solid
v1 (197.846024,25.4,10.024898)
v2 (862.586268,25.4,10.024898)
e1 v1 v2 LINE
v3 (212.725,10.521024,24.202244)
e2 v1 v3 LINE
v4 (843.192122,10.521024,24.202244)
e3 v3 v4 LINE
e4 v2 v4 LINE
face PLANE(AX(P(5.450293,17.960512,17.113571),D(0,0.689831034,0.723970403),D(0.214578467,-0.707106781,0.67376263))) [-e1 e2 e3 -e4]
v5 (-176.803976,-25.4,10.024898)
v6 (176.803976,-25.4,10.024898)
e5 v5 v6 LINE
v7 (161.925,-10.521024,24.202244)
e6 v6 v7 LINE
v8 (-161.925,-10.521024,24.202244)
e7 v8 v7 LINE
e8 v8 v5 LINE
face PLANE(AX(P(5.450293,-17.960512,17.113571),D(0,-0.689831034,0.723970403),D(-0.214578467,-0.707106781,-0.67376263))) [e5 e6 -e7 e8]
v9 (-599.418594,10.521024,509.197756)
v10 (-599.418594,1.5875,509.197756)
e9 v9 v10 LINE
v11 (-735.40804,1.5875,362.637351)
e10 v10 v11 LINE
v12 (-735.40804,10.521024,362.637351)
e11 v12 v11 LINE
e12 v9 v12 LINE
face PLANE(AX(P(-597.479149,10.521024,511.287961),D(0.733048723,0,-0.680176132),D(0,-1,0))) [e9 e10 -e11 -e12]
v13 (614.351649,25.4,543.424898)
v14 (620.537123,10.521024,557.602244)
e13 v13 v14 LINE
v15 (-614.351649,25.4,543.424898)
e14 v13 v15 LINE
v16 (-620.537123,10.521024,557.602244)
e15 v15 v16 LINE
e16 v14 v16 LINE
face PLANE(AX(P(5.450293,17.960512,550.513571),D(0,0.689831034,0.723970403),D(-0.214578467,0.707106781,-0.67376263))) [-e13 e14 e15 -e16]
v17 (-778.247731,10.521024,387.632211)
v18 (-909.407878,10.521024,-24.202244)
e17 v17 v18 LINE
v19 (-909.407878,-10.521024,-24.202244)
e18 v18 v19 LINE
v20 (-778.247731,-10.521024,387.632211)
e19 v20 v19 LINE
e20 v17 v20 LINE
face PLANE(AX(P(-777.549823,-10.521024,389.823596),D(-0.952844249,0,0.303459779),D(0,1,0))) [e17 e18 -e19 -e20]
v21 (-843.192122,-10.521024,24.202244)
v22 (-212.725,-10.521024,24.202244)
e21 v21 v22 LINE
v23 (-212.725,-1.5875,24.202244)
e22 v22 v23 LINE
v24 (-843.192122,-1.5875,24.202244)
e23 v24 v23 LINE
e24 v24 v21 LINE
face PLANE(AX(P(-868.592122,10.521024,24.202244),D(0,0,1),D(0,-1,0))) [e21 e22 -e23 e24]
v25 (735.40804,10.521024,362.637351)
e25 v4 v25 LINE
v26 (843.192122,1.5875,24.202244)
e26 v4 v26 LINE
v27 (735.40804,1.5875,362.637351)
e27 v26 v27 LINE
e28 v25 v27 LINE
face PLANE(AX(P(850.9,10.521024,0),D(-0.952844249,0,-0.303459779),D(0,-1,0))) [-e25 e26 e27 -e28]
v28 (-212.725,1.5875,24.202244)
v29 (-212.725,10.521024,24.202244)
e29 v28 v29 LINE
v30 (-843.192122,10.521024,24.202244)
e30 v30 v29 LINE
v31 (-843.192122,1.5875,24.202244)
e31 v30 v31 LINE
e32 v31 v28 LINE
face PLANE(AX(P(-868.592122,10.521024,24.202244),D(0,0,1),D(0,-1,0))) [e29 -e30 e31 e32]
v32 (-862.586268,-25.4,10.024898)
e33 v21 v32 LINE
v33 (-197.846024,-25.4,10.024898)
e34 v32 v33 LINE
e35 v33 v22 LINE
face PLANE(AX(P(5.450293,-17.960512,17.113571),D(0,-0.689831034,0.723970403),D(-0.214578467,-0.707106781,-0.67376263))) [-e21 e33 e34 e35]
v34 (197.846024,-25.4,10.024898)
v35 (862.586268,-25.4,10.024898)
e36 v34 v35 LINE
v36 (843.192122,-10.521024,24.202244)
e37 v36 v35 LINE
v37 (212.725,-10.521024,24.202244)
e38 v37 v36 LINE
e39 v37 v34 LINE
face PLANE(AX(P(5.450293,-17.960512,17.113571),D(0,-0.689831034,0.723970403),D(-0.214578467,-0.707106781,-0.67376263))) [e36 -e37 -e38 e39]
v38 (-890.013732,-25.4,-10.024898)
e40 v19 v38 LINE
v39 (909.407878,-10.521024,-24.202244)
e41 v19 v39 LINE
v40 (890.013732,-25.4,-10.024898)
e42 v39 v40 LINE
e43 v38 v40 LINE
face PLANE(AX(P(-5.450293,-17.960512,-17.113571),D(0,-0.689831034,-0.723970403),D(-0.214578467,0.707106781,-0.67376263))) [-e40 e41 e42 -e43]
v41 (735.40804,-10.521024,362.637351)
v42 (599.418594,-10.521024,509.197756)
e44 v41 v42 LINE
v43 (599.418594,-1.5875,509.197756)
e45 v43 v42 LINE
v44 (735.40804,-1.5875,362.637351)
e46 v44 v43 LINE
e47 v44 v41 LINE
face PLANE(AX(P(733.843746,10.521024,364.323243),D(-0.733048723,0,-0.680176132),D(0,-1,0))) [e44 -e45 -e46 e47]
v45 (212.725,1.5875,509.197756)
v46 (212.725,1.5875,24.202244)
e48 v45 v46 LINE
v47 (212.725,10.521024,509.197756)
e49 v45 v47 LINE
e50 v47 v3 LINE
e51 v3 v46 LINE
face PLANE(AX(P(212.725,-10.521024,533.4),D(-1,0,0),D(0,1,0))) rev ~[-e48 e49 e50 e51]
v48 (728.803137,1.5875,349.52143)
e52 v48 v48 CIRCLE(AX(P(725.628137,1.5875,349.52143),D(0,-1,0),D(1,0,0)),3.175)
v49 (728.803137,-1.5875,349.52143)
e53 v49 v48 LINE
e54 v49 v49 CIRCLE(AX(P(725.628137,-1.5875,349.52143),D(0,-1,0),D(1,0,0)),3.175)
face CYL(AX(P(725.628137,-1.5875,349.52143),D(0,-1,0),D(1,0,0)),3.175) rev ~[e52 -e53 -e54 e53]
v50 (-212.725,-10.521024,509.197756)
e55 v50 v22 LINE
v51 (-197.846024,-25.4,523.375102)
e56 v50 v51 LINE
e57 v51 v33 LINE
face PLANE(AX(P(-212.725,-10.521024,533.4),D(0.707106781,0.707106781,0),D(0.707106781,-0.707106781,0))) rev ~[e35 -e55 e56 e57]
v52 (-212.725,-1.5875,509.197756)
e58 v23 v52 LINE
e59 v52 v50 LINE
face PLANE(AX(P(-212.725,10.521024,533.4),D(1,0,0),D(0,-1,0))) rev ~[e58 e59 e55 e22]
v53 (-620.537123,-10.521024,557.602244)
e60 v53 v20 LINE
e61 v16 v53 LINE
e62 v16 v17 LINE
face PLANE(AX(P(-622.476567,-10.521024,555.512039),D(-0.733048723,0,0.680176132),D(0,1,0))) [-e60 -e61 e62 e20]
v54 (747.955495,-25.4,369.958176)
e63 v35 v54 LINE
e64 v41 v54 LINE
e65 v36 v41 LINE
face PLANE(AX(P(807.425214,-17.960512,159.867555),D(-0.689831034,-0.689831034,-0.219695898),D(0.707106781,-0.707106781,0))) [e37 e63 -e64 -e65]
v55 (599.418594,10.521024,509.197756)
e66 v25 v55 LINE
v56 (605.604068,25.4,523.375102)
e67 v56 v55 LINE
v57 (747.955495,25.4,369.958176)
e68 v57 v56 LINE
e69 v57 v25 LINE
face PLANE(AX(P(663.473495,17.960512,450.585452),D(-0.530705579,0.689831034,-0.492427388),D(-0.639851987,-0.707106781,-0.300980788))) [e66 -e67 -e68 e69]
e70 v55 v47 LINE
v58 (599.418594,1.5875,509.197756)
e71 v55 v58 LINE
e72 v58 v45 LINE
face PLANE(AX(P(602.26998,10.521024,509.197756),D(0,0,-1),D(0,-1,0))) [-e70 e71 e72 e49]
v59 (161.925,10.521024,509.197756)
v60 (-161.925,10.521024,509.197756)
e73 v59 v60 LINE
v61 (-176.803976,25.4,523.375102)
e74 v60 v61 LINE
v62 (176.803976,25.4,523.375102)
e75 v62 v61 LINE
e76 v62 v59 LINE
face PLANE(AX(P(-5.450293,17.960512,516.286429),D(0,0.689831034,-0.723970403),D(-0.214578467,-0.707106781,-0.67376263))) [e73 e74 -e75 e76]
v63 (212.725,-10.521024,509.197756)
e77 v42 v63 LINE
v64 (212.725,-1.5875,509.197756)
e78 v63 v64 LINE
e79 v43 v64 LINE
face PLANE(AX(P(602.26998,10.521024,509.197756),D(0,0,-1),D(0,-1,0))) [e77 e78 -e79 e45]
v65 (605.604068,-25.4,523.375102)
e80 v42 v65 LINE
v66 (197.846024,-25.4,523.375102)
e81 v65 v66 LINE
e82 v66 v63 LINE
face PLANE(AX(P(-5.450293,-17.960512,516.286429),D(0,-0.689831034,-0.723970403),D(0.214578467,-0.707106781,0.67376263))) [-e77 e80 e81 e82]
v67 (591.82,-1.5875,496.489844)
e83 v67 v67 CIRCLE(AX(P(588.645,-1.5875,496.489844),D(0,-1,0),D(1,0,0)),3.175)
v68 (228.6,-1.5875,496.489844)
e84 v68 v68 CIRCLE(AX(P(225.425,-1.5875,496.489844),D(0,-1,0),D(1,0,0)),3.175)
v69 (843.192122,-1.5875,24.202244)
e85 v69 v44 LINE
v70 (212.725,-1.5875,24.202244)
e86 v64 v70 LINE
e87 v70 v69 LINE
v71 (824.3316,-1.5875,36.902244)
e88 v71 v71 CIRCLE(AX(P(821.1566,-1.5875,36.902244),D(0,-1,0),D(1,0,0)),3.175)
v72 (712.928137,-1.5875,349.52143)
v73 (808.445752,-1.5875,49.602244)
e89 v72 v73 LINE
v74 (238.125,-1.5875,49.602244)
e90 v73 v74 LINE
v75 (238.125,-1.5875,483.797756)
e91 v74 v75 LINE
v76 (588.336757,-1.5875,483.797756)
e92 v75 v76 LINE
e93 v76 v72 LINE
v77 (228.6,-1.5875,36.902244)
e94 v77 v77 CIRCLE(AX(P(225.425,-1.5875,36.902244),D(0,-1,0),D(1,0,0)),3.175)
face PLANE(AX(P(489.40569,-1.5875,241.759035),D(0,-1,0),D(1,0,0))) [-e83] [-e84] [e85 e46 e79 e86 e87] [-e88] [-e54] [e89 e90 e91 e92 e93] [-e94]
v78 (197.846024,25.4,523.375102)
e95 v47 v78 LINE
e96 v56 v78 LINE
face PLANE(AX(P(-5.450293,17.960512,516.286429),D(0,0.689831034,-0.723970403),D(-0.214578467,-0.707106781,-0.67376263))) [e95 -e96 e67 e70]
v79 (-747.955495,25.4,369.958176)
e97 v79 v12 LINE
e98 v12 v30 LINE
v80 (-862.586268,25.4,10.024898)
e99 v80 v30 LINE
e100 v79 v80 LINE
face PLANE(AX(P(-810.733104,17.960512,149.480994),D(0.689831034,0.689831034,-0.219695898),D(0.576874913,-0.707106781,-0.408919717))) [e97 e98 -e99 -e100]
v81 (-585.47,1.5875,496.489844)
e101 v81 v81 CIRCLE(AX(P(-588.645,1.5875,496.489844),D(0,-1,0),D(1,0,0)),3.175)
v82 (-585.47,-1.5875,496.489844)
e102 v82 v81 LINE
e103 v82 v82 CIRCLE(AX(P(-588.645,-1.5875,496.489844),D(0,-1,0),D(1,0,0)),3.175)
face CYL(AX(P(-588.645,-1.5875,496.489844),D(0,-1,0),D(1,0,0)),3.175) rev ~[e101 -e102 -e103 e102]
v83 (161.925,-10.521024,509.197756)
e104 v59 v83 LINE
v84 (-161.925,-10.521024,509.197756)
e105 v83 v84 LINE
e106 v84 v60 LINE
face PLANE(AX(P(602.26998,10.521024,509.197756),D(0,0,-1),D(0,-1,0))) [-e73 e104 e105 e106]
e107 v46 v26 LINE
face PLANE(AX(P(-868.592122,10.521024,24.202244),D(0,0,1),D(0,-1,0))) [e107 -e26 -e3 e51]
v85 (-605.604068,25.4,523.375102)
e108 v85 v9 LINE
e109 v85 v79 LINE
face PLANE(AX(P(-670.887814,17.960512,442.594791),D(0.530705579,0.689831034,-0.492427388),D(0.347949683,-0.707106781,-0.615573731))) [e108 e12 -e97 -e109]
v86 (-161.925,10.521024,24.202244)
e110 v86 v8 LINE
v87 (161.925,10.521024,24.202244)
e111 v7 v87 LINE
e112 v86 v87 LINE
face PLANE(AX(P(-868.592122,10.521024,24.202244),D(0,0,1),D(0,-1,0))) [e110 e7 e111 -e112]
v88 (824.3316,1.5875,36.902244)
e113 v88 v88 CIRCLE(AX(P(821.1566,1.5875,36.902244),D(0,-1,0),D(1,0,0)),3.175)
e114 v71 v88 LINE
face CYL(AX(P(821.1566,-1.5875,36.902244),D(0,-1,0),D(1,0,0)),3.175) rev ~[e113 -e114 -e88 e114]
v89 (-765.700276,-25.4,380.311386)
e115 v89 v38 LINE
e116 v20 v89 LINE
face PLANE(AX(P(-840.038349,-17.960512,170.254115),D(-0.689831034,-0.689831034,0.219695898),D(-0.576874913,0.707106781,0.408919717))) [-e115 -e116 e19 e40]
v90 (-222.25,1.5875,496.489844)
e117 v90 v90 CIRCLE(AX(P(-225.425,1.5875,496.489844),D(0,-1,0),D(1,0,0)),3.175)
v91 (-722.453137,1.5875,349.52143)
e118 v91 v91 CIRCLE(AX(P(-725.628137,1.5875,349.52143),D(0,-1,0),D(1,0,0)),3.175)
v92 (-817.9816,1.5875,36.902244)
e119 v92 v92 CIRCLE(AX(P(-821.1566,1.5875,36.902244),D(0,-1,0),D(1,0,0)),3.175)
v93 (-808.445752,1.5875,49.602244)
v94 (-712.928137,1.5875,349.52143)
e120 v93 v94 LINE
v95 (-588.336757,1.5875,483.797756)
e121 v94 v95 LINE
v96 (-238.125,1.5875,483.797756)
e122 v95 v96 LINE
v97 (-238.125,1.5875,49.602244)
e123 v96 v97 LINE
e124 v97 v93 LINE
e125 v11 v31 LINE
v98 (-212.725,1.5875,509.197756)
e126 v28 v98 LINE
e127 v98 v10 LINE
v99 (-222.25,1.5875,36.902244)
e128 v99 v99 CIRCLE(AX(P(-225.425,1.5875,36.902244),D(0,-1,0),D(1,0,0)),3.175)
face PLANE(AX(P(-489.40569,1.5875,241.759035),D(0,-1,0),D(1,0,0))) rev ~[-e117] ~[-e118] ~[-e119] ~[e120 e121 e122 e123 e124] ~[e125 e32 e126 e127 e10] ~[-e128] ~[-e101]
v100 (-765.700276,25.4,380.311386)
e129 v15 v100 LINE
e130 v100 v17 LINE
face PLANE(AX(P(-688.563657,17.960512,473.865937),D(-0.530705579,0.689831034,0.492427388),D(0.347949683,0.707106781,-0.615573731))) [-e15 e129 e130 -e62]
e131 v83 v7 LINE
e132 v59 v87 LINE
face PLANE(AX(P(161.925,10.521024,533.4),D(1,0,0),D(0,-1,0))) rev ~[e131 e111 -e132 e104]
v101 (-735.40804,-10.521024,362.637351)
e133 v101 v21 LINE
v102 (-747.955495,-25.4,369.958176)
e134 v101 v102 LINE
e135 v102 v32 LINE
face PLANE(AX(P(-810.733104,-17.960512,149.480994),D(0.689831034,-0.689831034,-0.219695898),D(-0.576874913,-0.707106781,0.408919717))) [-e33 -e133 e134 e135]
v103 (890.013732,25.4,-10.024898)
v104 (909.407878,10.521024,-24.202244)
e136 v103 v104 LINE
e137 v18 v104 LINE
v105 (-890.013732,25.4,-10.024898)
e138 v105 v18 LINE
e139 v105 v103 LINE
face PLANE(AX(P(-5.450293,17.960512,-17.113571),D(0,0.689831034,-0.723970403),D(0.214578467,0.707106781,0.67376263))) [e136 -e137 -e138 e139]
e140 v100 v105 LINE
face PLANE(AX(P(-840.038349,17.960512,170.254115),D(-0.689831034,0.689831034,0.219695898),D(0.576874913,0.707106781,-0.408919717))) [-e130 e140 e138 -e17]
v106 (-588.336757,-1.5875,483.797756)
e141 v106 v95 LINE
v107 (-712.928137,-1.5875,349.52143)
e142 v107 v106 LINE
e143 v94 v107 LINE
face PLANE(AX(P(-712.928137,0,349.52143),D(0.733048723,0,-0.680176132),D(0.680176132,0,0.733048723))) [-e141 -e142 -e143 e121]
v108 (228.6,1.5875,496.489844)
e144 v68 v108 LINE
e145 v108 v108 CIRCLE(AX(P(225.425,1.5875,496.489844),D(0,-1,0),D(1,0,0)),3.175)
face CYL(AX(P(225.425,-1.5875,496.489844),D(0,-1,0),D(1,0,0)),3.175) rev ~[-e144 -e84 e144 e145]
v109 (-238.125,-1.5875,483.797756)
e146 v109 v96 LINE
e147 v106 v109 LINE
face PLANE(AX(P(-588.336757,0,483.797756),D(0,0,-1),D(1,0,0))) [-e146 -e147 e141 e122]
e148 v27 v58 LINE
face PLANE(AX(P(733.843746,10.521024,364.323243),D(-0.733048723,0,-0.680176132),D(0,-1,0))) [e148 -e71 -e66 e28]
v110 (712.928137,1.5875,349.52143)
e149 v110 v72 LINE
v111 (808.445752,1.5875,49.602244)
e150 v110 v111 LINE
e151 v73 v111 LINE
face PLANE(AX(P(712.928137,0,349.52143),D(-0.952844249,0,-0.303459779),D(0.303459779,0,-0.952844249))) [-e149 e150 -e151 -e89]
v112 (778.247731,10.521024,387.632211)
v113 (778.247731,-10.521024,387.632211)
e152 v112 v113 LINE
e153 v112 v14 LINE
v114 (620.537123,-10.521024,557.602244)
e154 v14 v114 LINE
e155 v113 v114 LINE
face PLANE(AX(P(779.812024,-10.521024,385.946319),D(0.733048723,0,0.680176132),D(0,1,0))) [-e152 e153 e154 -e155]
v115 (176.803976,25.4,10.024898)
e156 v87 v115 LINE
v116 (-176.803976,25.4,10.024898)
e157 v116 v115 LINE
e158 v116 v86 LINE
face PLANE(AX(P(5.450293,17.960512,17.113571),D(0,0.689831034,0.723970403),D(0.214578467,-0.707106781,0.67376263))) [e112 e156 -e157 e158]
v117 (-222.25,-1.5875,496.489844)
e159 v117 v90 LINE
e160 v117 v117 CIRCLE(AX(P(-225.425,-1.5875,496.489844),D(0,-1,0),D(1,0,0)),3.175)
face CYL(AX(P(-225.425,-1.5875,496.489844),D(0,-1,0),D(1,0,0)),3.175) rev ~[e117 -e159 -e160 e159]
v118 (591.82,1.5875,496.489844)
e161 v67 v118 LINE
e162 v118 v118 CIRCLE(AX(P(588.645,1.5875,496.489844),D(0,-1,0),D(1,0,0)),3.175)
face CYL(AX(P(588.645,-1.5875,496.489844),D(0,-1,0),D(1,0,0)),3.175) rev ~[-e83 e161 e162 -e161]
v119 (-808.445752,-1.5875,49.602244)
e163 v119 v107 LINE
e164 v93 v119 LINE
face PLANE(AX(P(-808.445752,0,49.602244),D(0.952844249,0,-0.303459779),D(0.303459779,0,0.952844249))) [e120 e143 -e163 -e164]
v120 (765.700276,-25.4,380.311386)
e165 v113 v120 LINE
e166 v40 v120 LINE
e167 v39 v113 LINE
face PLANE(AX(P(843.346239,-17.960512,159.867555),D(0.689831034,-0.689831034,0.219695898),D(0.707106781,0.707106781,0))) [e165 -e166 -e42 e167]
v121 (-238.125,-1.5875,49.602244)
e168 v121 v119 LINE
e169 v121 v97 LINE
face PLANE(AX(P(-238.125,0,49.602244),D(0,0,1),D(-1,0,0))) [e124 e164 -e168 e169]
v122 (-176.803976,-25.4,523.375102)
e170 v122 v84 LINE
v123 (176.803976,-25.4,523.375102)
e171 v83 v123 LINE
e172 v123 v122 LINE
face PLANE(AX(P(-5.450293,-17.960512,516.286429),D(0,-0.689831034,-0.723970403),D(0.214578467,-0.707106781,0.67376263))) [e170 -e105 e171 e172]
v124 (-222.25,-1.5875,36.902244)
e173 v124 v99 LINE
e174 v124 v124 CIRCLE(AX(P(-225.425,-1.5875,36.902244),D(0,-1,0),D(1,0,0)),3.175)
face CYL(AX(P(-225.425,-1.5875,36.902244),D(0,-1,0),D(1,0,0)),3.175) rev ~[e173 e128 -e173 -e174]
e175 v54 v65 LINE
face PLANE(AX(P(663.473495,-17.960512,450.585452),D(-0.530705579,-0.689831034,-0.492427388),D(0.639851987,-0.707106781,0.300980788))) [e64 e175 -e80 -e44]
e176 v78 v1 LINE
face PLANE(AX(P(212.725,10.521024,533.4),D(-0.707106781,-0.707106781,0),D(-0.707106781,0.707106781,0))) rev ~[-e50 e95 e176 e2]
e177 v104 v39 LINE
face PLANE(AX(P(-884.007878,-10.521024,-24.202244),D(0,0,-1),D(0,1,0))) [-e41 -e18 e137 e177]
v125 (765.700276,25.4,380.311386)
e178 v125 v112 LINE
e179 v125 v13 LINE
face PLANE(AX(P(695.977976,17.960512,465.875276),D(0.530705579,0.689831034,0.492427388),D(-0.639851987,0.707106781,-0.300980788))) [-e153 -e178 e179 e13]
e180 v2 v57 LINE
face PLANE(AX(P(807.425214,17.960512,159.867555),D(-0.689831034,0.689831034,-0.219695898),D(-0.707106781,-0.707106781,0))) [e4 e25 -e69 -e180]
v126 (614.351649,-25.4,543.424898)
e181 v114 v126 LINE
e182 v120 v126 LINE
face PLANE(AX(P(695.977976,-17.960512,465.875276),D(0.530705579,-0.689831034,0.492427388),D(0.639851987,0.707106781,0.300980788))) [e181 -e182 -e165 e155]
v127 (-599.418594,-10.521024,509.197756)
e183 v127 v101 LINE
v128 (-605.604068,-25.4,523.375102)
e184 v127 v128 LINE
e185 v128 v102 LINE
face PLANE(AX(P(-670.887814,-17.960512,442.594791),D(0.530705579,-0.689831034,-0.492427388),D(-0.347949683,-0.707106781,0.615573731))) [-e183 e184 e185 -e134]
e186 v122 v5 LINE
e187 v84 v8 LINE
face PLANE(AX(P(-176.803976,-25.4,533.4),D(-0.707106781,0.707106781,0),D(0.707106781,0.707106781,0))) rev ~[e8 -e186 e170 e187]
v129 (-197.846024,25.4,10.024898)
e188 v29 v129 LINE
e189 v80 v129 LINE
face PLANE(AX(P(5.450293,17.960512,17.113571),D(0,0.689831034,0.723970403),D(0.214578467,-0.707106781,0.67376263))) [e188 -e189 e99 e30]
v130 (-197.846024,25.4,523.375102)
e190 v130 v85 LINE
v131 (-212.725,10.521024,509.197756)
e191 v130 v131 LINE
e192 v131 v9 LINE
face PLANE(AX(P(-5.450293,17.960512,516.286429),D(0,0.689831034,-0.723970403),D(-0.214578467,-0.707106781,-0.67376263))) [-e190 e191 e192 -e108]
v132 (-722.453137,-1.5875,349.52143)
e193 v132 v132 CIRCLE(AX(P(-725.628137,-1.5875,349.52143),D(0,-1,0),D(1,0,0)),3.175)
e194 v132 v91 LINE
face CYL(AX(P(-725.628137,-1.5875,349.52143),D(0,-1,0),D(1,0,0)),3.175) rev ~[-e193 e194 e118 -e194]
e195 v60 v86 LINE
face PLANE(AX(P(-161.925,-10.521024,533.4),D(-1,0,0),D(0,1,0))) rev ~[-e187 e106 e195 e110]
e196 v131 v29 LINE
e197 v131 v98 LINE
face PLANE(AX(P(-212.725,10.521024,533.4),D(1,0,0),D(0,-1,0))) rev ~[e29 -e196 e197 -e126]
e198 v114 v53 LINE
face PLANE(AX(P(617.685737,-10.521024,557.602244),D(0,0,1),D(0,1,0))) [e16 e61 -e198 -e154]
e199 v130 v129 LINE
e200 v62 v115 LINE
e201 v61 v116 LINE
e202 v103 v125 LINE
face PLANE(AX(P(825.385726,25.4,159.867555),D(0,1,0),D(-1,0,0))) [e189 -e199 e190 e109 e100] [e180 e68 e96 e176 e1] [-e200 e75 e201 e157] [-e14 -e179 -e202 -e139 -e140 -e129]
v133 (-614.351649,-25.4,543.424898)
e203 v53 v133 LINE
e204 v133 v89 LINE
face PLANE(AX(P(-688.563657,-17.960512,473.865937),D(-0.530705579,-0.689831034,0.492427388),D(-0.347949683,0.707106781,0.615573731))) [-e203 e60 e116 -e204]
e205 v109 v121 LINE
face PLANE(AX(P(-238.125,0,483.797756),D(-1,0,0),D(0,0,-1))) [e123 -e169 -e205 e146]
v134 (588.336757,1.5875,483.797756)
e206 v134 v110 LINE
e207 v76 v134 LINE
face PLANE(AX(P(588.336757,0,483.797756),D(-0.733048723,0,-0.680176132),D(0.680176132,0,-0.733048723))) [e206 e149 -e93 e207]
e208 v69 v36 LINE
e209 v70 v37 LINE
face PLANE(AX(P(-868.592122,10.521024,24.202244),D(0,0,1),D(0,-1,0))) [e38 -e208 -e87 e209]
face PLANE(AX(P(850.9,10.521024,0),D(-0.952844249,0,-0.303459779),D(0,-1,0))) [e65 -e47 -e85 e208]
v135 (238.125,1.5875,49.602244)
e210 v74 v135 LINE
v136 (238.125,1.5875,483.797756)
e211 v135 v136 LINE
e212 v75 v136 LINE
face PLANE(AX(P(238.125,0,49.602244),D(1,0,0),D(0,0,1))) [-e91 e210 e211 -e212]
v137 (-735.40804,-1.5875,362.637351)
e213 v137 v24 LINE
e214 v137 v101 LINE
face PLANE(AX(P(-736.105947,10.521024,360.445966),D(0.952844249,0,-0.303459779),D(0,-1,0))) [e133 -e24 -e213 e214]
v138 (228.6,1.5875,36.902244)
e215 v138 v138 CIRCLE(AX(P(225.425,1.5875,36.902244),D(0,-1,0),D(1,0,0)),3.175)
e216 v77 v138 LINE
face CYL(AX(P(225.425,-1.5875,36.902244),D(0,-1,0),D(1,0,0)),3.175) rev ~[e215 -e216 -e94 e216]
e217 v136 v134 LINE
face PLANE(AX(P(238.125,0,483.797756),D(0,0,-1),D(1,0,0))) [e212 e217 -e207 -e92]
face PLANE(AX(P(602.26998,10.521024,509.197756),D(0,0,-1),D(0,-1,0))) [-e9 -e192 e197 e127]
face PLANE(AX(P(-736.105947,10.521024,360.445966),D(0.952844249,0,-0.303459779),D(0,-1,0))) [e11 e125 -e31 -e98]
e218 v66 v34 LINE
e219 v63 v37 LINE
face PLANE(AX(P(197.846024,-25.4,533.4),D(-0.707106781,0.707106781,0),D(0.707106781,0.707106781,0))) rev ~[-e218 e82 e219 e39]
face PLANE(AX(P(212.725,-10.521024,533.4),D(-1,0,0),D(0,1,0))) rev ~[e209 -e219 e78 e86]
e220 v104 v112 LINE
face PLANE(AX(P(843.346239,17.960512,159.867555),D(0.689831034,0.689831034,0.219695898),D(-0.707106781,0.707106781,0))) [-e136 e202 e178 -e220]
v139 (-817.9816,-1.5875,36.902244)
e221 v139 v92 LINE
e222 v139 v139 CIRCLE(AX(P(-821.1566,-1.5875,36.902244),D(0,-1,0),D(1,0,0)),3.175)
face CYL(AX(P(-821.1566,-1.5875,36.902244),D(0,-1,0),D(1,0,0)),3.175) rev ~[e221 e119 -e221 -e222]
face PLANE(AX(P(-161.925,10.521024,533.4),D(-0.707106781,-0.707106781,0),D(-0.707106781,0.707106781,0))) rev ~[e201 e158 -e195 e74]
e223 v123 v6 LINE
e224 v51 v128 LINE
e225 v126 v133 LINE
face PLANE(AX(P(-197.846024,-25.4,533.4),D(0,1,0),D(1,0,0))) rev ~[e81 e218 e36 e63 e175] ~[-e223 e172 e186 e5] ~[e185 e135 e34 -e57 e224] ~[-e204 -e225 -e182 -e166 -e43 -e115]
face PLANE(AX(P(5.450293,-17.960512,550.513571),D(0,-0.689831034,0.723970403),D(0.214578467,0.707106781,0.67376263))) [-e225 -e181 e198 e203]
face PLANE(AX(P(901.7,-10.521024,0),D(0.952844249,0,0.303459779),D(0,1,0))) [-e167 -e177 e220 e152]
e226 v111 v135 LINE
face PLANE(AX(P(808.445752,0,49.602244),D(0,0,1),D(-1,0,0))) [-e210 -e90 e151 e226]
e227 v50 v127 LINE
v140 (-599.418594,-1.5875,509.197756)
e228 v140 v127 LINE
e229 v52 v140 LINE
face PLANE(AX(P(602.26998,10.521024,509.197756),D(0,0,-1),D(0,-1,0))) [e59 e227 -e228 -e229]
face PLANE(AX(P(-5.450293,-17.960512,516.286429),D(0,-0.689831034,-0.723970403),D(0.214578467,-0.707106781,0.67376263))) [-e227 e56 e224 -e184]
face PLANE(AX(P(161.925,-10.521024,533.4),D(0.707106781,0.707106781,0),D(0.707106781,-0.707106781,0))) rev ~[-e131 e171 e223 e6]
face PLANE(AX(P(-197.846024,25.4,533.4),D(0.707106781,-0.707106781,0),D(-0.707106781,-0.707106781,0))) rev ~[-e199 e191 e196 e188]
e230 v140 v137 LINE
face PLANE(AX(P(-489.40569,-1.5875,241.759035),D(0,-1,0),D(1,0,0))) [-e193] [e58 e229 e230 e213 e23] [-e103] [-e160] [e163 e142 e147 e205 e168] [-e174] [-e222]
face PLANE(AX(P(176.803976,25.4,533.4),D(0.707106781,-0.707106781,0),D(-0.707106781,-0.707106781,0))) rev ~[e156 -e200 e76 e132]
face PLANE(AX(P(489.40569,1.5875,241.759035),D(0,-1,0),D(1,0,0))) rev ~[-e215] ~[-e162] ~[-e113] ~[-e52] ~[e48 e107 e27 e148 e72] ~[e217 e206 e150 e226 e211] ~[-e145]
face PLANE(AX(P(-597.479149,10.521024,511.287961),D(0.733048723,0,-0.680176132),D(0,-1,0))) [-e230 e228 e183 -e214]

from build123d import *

# Parameters (mm, degrees)
F7_DEPTH      = 1.5875
F7_DEPTH_BACK = 1.5875
F8_R          = 3.175
F9_DEPTH      = 3.175


with BuildPart() as f2:
    # F2: sweep along a path in F0
    with BuildLine(Plane.XZ) as f2_path:
        Line((876.3, 0), (756.8278850907, 375.134780791))
        Line((756.8278850907, 375.134780791), (609.9778582309, 533.4))
        Line((609.9778582309, 533.4), (0, 533.4))
        Line((0, 533.4), (-609.9778582309, 533.4))
        Line((-609.9778582309, 533.4), (-756.8278850907, 375.134780791))
        Line((-756.8278850907, 375.134780791), (-876.3, 0))
        Line((-876.3, 0), (0, 0))
        Line((0, 0), (876.3, 0))
    # F1 (on Top) → F2 (sweep)
    with BuildSketch(Plane.XY):
        Polygon((886.8210244843, 25.4), (865.7789755157, 25.4), (850.9, 10.5210244843), (850.9, -10.5210244843), (865.7789755157, -25.4), (886.8210244843, -25.4), (901.7, -10.5210244843), (901.7, 10.5210244843), align=None)
    sweep(path=f2_path.line, transition=Transition.RIGHT)



with BuildPart() as f4:
    # F4: sweep along a path in F0
    with BuildLine(Plane.XZ) as f4_path:
        Line((187.325, 533.4), (187.325, 0))
    # F3 (on Top) → F4 (sweep)
    with BuildSketch(Plane.XY):
        Polygon((197.8460244843, 25.4), (176.8039755157, 25.4), (161.925, 10.5210244843), (161.925, -10.5210244843), (176.8039755157, -25.4), (197.8460244843, -25.4), (212.725, -10.5210244843), (212.725, 10.5210244843), align=None)
    sweep(path=f4_path.line)


with BuildPart() as f5:
    # F5: sweep along a path in F0
    with BuildLine(Plane.XZ) as f5_path:
        Line((-187.325, 533.4), (-187.325, 0))
    # F3 (on Top) → F5 (sweep)
    with BuildSketch(Plane.XY):
        Polygon((-176.8039755157, 25.4), (-197.8460244843, 25.4), (-212.725, 10.5210244843), (-212.725, -10.5210244843), (-197.8460244843, -25.4), (-176.8039755157, -25.4), (-161.925, -10.5210244843), (-161.925, 10.5210244843), align=None)
    sweep(path=f5_path.line)


with BuildPart() as f2_1:
    add(f2.part)

    add(f4.part)  # F7 merges F4

    add(f5.part)  # F7 merges F5
    # F6 (on Front) → F7 (join, two sides)
    with BuildSketch(Plane.XZ) as f7_sk:
        Polygon((-735.4080395805, 362.6373508831), (-843.1921216188, 24.202243922), (-212.725, 24.202243922), (-212.725, 509.197756078), (-599.4185938449, 509.197756078), align=None)
        Polygon((-808.445752084, 49.602243922), (-712.9281373981, 349.5214298683), (-588.3367571247, 483.797756078), (-238.125, 483.797756078), (-238.125, 49.602243922), align=None, mode=Mode.SUBTRACT)
        Polygon((212.725, 24.202243922), (843.1921216188, 24.202243922), (735.4080395805, 362.6373508831), (599.4185938449, 509.197756078), (212.725, 509.197756078), align=None)
        Polygon((712.9281373981, 349.5214298683), (808.445752084, 49.602243922), (238.125, 49.602243922), (238.125, 483.797756078), (588.3367571247, 483.797756078), align=None, mode=Mode.SUBTRACT)
    extrude(amount=F7_DEPTH)
    extrude(f7_sk.sketch, amount=-F7_DEPTH_BACK)

    # F8 (on face) → F9 (cut, through all)
    with BuildSketch(Plane.XZ.offset(1.5875)):
        with Locations((-225.425, 36.902243922)):
            Circle(F8_R)
        with Locations((-225.425, 496.489843922)):
            Circle(F8_R)
        with Locations((-588.645, 496.489843922)):
            Circle(F8_R)
        with Locations((-725.6281373981, 349.5214298683)):
            Circle(F8_R)
        with Locations((-821.1566, 36.902243922)):
            Circle(F8_R)
        with Locations((225.425, 36.902243922)):
            Circle(F8_R)
        with Locations((225.425, 496.489843922)):
            Circle(F8_R)
        with Locations((588.645, 496.489843922)):
            Circle(F8_R)
        with Locations((725.6281373981, 349.5214298683)):
            Circle(F8_R)
        with Locations((821.1566, 36.902243922)):
            Circle(F8_R)
    extrude(amount=-F9_DEPTH, mode=Mode.SUBTRACT)


solid = f2_1.part
